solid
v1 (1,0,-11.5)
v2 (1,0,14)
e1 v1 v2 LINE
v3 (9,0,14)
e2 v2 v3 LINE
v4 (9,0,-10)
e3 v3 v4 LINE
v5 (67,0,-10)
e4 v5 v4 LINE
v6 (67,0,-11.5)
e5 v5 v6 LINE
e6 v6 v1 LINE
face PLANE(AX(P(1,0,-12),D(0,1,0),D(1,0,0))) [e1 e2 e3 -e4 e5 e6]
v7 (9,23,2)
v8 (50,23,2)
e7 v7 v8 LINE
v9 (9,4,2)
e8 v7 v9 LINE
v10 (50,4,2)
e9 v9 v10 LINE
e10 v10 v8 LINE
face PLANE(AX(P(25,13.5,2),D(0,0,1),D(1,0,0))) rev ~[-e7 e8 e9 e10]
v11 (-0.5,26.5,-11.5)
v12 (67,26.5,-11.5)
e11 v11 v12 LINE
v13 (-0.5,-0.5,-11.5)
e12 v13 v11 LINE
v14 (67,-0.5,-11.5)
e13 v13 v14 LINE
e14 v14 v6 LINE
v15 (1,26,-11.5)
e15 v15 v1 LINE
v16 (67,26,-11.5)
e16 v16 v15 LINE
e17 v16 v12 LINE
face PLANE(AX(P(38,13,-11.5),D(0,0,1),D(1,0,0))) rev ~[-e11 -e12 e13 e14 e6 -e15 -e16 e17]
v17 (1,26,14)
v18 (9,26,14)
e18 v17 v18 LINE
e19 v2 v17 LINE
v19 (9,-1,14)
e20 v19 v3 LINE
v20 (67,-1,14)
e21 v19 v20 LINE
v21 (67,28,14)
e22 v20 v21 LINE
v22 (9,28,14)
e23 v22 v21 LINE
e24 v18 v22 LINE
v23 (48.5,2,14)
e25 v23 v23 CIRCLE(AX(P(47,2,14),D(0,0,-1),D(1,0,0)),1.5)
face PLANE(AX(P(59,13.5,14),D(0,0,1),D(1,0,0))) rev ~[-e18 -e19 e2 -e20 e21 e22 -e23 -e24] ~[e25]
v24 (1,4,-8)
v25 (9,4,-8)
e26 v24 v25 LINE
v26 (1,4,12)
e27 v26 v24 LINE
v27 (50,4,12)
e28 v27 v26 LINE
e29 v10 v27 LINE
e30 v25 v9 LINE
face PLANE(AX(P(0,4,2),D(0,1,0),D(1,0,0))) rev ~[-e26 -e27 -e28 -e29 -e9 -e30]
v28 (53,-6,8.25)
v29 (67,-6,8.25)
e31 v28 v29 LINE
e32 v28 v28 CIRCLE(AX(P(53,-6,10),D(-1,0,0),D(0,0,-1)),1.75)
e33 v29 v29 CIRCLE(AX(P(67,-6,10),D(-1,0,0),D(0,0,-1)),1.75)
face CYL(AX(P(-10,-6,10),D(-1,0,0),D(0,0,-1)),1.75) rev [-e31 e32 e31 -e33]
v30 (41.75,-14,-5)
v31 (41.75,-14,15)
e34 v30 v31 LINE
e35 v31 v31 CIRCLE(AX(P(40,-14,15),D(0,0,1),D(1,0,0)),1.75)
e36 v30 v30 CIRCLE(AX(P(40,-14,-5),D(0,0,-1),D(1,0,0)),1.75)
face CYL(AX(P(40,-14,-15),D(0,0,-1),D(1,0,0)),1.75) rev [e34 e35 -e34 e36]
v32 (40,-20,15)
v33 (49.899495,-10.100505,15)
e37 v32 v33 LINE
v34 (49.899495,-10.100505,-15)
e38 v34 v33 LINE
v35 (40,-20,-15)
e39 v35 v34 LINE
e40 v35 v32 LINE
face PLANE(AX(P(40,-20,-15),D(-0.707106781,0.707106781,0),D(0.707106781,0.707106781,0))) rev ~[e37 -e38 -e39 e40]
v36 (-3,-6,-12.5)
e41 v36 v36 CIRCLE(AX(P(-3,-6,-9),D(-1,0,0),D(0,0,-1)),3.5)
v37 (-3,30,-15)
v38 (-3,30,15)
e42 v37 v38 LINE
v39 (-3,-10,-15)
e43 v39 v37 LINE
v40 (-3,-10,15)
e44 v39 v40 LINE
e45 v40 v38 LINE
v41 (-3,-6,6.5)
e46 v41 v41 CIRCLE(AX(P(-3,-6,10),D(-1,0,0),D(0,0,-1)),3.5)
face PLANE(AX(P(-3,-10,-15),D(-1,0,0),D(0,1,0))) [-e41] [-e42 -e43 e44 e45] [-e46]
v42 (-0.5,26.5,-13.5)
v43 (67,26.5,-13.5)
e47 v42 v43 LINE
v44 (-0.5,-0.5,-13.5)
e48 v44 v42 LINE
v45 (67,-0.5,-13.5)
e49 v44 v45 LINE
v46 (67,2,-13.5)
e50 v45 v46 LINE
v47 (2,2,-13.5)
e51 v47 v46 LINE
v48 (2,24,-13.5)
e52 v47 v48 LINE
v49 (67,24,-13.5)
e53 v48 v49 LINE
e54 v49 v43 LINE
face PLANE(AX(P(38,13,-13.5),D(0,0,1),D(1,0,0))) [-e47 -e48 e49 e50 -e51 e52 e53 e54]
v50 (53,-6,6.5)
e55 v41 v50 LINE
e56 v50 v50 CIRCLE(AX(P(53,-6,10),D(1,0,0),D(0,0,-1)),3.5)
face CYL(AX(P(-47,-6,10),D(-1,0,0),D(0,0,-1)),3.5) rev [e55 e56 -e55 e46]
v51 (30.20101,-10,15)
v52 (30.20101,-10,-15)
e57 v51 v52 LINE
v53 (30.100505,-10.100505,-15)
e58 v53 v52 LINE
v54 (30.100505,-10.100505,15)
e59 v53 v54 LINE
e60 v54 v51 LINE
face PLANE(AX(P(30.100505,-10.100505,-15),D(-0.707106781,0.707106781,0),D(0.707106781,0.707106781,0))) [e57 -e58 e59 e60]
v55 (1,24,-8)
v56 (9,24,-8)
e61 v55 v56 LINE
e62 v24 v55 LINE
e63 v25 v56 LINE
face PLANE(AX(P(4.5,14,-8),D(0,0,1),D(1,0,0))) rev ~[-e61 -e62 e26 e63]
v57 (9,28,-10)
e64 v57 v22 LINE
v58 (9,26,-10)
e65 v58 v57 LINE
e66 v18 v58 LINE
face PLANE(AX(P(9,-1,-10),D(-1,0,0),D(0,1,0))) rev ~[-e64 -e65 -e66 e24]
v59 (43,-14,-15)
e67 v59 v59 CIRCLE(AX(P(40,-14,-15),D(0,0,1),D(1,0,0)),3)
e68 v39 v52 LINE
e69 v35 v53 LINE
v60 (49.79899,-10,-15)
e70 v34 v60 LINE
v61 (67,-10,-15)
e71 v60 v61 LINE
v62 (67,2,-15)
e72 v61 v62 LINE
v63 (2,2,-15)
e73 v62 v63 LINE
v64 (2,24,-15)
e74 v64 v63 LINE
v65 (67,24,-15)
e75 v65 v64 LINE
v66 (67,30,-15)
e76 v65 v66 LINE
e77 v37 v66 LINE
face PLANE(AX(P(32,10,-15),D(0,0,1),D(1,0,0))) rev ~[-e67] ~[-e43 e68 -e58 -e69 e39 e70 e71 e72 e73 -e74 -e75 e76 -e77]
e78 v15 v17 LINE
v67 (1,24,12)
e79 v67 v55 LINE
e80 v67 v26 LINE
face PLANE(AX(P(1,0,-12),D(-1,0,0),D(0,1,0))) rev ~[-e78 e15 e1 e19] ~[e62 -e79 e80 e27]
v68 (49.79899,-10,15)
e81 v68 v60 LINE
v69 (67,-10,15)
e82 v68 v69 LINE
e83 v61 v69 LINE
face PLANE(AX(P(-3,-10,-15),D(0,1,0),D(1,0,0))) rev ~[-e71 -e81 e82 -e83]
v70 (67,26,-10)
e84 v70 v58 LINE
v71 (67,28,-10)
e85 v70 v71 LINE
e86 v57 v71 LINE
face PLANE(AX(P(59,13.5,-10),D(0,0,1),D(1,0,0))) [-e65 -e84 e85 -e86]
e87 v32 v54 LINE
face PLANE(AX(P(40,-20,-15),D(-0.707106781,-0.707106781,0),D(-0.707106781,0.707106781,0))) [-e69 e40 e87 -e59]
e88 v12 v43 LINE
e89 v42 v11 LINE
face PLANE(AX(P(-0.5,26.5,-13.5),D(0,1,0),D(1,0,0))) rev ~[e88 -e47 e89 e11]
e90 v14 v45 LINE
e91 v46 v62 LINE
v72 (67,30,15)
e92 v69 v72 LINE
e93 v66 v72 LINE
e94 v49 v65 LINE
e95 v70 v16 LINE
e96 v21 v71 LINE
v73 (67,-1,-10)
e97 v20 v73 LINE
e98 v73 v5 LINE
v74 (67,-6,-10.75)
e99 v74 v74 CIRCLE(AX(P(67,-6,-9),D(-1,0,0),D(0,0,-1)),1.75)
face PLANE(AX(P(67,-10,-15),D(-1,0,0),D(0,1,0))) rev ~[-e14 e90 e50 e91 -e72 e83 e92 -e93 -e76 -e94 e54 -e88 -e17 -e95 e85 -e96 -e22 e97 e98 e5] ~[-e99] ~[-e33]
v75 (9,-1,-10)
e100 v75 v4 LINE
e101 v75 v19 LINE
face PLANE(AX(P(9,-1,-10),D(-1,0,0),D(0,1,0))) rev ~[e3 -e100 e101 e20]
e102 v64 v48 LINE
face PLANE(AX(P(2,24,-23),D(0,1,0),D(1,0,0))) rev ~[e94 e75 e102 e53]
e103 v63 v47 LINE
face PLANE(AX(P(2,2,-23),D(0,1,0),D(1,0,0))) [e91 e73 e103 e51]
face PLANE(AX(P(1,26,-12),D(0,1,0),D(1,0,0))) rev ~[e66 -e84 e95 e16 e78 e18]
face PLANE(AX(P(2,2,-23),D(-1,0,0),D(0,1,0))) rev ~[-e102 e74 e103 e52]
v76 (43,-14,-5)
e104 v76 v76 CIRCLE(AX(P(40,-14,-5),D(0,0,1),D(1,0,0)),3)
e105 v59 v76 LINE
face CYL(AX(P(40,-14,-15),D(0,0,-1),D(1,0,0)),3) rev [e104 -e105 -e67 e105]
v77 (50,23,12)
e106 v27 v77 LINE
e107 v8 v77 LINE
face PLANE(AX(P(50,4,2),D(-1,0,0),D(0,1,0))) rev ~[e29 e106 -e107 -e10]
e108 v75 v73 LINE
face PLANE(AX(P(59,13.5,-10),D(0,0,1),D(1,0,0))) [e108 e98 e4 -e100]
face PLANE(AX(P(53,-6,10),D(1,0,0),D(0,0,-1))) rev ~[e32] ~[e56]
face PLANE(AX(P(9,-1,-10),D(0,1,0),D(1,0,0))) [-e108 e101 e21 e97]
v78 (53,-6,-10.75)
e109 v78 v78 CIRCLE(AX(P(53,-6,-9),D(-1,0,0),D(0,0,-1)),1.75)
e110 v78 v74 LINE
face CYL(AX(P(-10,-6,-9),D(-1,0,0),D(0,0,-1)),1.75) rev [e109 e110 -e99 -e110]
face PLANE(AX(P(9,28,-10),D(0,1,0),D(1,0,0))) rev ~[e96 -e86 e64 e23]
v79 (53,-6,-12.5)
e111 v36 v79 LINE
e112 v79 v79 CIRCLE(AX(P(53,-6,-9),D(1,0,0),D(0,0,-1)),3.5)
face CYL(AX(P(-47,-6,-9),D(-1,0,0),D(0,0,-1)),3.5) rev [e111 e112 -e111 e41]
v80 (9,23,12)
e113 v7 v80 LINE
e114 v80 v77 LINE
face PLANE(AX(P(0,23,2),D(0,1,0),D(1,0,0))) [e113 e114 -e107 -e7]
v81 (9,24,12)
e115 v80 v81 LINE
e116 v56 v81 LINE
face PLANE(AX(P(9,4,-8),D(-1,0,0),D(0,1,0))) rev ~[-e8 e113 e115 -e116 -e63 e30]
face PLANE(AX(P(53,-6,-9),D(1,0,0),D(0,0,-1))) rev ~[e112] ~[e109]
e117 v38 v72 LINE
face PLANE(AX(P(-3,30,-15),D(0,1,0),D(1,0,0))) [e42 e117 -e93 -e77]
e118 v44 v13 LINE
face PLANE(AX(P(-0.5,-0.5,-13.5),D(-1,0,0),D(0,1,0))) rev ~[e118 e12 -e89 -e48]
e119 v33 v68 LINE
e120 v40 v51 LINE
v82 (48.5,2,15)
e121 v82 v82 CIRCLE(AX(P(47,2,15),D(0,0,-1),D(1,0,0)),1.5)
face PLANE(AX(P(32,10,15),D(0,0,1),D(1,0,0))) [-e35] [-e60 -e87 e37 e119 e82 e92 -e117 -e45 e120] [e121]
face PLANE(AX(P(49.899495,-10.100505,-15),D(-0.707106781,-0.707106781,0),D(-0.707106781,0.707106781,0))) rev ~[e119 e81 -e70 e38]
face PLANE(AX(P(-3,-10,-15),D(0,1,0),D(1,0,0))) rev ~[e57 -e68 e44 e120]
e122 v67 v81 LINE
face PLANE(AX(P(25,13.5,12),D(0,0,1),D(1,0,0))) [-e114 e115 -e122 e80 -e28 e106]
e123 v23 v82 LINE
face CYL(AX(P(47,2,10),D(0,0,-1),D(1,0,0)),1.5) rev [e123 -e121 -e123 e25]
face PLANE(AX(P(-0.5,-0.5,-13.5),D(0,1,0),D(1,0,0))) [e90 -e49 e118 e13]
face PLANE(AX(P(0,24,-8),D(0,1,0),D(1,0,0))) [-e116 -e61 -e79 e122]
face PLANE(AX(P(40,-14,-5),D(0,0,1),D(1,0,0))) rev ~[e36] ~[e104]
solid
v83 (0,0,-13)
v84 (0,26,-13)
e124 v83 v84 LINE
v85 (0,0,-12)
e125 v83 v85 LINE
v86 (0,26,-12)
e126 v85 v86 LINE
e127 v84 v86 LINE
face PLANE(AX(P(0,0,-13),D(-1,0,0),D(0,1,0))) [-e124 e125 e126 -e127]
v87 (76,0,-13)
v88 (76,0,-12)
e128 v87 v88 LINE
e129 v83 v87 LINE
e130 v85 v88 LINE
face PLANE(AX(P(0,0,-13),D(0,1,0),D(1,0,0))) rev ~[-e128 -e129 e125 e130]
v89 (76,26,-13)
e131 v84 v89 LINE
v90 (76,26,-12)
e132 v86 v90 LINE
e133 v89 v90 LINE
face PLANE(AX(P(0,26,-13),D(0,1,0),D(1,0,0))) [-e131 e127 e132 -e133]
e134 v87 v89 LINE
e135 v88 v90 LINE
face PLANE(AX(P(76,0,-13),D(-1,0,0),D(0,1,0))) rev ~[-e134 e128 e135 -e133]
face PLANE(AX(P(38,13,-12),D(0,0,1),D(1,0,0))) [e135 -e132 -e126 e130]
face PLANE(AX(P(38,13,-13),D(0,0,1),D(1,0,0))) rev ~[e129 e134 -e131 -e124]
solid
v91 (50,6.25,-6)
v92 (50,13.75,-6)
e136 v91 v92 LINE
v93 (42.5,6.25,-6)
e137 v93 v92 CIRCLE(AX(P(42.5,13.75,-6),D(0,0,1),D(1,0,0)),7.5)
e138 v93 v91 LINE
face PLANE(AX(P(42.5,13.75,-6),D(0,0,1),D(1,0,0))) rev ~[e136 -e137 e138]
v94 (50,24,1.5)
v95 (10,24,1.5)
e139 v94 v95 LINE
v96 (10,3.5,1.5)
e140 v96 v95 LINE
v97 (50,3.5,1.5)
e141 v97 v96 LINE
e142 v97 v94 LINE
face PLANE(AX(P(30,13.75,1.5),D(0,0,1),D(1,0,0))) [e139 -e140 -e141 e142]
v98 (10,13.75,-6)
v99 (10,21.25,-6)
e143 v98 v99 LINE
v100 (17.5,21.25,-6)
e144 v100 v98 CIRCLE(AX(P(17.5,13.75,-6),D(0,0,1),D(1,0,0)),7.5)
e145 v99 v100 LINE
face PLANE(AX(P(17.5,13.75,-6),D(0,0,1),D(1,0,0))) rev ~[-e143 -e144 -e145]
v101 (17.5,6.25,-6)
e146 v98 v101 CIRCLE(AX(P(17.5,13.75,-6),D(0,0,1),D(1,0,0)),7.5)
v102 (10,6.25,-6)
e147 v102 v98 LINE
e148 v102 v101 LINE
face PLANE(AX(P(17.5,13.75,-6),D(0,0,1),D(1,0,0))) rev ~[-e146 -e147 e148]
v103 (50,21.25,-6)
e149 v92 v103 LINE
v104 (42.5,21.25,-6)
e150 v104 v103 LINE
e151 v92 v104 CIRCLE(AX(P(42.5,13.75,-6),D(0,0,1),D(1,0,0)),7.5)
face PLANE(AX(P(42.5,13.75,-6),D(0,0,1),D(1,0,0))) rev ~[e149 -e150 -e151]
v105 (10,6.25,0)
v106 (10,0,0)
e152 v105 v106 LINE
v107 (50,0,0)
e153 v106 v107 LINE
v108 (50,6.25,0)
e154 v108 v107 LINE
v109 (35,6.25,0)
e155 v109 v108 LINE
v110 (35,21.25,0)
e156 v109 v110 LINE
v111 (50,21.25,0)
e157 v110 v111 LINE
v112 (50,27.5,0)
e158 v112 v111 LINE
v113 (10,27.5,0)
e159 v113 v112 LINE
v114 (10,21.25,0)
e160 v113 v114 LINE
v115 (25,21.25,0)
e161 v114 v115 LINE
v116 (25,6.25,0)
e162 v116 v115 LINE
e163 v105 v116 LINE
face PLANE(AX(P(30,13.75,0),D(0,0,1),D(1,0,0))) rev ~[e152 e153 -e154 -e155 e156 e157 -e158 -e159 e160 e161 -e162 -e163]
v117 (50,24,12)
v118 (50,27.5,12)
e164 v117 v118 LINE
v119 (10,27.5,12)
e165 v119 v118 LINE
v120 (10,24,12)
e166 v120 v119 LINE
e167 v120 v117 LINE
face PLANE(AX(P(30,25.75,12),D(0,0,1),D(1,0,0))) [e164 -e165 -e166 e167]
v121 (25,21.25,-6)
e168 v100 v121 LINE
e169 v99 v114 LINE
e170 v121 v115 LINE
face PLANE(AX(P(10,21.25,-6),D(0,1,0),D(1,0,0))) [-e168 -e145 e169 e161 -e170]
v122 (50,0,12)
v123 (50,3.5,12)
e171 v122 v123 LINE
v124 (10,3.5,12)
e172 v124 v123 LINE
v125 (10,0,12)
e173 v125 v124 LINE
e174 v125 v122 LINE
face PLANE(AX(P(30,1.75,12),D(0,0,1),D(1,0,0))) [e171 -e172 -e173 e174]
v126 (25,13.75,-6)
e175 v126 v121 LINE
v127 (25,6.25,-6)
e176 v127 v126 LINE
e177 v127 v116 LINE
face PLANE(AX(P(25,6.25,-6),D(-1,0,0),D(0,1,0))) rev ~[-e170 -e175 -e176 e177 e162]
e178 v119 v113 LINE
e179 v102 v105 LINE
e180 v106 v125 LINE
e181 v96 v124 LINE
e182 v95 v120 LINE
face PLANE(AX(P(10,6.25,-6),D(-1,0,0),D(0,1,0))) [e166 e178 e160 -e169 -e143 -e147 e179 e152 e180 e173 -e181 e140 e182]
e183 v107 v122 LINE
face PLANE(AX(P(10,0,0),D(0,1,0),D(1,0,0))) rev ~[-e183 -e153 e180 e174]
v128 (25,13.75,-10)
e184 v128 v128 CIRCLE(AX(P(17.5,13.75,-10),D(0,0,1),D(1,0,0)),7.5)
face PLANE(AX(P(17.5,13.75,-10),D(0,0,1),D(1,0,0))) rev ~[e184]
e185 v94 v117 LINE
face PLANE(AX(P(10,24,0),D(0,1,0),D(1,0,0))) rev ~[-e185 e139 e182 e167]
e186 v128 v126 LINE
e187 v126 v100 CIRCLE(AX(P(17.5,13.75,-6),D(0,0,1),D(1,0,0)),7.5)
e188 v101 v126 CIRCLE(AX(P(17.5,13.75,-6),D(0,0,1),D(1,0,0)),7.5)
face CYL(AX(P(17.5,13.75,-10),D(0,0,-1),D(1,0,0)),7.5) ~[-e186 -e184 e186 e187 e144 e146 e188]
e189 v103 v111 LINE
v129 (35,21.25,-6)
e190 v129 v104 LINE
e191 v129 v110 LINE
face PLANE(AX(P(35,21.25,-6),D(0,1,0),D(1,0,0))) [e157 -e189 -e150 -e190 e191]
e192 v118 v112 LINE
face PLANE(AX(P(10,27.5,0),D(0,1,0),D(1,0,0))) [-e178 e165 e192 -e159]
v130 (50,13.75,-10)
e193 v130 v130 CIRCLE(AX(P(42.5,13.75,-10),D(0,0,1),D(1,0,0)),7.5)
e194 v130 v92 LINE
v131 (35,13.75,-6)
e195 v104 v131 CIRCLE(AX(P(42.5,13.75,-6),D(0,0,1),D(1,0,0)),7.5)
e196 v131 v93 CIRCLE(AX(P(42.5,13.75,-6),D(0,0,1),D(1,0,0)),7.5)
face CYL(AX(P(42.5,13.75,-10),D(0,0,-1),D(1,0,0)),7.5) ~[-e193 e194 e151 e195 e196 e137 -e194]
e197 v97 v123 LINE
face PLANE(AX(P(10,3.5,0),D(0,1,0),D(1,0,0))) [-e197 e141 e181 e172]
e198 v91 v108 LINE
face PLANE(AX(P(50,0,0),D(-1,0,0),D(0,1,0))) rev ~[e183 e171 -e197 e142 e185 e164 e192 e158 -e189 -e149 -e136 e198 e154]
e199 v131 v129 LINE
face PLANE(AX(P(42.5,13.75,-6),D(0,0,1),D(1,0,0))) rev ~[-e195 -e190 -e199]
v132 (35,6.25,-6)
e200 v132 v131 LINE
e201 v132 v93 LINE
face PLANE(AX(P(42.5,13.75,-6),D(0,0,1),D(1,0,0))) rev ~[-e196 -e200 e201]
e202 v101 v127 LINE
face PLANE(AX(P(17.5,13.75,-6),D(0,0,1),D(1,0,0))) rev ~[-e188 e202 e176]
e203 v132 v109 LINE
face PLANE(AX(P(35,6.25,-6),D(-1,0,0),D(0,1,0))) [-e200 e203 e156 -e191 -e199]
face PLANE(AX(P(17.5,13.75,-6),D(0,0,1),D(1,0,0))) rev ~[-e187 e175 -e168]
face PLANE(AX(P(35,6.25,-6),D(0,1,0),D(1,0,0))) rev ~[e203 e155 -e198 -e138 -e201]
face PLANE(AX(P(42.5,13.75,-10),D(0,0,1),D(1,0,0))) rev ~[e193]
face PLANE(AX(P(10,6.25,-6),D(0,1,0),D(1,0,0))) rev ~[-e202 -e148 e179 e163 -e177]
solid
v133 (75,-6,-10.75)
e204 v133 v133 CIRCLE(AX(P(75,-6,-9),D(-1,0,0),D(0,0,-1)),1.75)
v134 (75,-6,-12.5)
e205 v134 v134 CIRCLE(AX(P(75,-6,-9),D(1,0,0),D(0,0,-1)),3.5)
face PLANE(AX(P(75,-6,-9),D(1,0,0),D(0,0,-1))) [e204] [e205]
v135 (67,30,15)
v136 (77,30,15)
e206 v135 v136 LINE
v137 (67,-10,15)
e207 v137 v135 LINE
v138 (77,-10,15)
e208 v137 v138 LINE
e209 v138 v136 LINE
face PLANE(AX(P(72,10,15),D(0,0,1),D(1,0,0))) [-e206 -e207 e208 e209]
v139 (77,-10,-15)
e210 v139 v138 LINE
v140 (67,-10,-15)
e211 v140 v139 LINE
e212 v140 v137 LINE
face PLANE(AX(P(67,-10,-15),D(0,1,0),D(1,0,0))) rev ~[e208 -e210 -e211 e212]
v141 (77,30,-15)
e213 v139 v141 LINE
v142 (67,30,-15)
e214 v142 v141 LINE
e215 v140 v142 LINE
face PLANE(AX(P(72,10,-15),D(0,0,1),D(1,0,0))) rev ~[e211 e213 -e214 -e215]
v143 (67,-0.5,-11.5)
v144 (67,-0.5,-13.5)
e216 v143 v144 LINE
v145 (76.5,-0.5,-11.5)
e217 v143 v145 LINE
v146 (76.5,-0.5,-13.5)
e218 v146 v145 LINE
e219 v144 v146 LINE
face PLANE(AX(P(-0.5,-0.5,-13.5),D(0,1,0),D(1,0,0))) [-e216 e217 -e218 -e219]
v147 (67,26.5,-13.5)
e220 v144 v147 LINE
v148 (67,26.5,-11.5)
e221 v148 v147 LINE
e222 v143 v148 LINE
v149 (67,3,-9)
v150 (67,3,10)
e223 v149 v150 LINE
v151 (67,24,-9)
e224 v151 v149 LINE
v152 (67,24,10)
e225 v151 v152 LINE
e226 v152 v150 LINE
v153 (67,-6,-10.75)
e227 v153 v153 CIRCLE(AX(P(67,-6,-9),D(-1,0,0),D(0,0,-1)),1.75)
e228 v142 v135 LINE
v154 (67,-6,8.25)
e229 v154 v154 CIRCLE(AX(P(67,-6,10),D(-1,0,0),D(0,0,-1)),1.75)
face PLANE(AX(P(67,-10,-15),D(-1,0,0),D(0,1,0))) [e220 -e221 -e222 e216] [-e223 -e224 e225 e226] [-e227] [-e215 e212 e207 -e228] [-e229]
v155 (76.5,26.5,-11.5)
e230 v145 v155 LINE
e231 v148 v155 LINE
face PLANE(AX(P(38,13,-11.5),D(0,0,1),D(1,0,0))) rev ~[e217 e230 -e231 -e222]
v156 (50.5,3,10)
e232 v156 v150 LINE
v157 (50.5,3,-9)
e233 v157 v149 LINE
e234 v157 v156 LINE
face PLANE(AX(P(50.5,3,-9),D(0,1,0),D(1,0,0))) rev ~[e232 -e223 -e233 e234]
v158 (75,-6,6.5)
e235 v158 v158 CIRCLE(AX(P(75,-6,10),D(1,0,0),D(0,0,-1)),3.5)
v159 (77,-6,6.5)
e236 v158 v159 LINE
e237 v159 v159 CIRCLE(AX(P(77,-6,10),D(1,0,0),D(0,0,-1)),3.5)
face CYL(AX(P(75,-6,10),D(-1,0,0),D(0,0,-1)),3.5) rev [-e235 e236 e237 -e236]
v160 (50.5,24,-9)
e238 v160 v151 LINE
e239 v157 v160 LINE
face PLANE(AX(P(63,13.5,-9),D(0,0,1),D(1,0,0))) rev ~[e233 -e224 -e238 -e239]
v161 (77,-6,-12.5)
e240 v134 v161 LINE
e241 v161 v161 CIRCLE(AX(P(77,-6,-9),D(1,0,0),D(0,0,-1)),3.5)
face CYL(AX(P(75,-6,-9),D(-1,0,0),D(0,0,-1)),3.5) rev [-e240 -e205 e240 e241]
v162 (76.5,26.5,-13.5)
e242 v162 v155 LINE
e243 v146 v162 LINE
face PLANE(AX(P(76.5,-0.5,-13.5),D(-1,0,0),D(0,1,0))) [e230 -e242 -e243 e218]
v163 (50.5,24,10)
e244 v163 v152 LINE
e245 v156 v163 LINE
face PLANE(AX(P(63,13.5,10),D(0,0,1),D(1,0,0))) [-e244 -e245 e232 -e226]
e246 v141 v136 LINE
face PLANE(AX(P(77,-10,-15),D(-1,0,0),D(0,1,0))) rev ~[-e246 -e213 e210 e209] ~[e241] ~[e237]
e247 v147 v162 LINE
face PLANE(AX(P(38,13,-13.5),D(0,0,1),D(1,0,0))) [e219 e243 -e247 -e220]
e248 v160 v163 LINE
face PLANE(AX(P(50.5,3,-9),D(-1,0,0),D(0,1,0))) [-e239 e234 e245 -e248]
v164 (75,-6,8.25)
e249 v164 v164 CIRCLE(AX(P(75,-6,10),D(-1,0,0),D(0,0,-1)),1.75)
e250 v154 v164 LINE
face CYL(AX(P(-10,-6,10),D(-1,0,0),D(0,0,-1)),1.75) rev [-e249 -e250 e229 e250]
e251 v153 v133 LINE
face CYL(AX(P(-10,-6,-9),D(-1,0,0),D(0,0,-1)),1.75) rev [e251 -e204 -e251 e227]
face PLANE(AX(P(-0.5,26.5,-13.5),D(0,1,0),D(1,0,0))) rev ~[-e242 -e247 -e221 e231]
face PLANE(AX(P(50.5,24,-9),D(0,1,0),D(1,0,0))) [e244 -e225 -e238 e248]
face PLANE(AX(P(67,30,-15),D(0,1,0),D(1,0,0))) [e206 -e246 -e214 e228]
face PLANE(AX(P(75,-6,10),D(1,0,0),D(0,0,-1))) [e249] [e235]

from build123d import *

# Parameters (mm, degrees)
BOX_W                  = 76
BOX_H                  = 26
BOX_DEPTH              = 1
BOX001_W               = 40
BOX001_H               = 27.5
BOX001_DEPTH           = 1.5
BOX002_W               = 40
BOX002_H               = 3.5
BOX002_DEPTH           = 12
BOX003_W               = 40
BOX003_H               = 3.5
BOX003_DEPTH           = 12
BOX004_W               = 15
BOX004_H               = 15
BOX004_DEPTH           = 6
CYLINDER_R             = 7.5
CYLINDER_DEPTH         = 4
CYLINDER007_R          = 3.5
CYLINDER007_DEPTH      = 2
CYLINDER004_R          = 1.75
CYLINDER004_DEPTH      = 100
CYLINDER003_R          = 1.75
CYLINDER003_DEPTH      = 100
CYLINDER008_R          = 3.5
CYLINDER008_DEPTH      = 2
BOX013_W               = 77
BOX013_H               = 27
BOX013_DEPTH           = 2
BOX012_W               = 10
BOX012_H               = 40
BOX012_DEPTH           = 30
BOX014_W               = 25
BOX014_H               = 21
BOX014_DEPTH           = 19
BOX016_W               = 20
BOX016_H               = 20
BOX016_DEPTH           = 30
CYLINDER010_R          = 1.75
CYLINDER010_DEPTH      = 30
CYLINDER011_R          = 3
CYLINDER011_DEPTH      = 10
BOX015_W               = 14
BOX015_H               = 14
BOX015_DEPTH           = 30
BOX015_PLACEMENT_ANGLE = 45
CYLINDER009_R          = 1.5
CYLINDER009_DEPTH      = 10
CYLINDER006_R          = 3.5
CYLINDER006_DEPTH      = 100
CYLINDER005_R          = 3.5
CYLINDER005_DEPTH      = 100
CYLINDER002_R          = 1.75
CYLINDER002_DEPTH      = 100
CYLINDER001_R          = 1.75
CYLINDER001_DEPTH      = 100
BOX010_W               = 50
BOX010_H               = 19
BOX010_DEPTH           = 10
BOX011_W               = 9
BOX011_H               = 20
BOX011_DEPTH           = 20
BOX009_W               = 100
BOX009_H               = 26
BOX009_DEPTH           = 26
BOX008_W               = 100
BOX008_H               = 29
BOX008_DEPTH           = 24
BOX007_W               = 77
BOX007_H               = 27
BOX007_DEPTH           = 2
BOX006_W               = 72
BOX006_H               = 22
BOX006_DEPTH           = 10
BOX005_W               = 70
BOX005_H               = 40
BOX005_DEPTH           = 30


with BuildPart() as microscopeslide:
    # Box → Box (new body)
    with BuildSketch(Plane.XY.offset(-13)):
        with Locations((38, 13)):
            Rectangle(BOX_W, BOX_H)
    extrude(amount=BOX_DEPTH)


with BuildPart() as cube001:
    # Box001 → Box001 (new body)
    with BuildSketch(Plane.XY):
        with Locations((20, 13.75)):
            Rectangle(BOX001_W, BOX001_H)
    extrude(amount=BOX001_DEPTH)


with BuildPart() as cube:
    # Box002 → Box002 (new body)
    with BuildSketch(Plane.XY):
        with Locations((20, 1.75)):
            Rectangle(BOX002_W, BOX002_H)
    extrude(amount=BOX002_DEPTH)


with BuildPart() as cube002:
    # Box003 → Box003 (new body)
    with BuildSketch(Plane(origin=(0, 24, 0), x_dir=(1, 0, 0), z_dir=(0, 0, 1))):
        with Locations((20, 1.75)):
            Rectangle(BOX003_W, BOX003_H)
    extrude(amount=BOX003_DEPTH)


with BuildPart() as cube003:
    # Box004 → Box004 (new body)
    with BuildSketch(Plane(origin=(0, 6.25, -6), x_dir=(1, 0, 0), z_dir=(0, 0, 1))):
        with Locations((7.5, 7.5)):
            Rectangle(BOX004_W, BOX004_H)
    extrude(amount=BOX004_DEPTH)


with BuildPart() as cylinder:
    # Cylinder → Cylinder (new body)
    with BuildSketch(Plane(origin=(7.5, 13.75, -10), x_dir=(1, 0, 0), z_dir=(0, 0, 1))):
        Circle(CYLINDER_R)
    extrude(amount=CYLINDER_DEPTH)


with BuildPart() as fusion001:
    # Fusion001 base: copy of Cube003
    add(cube003.part)

    # Fusion001: union Cylinder
    add(cylinder.part)


with BuildPart() as fusion001_1:
    # Fusion001 placement: moved
    add(fusion001.part.moved(Location((25, 0, 0))))


with BuildPart() as esp32camtemplate:
    # Fusion base: copy of Cylinder
    add(cylinder.part)

    # Fusion: union Cube001, Cube, Cube002, Cube003, Fusion001
    add(cube001.part)
    add(cube.part)
    add(cube002.part)
    add(cube003.part)
    add(fusion001_1.part)


with BuildPart() as esp32camtemplate_1:
    # Fusion placement: moved
    add(esp32camtemplate.part.moved(Location((10, 0, 0))))


with BuildPart() as cylinder007:
    # Cylinder007 → Cylinder007 (new body)
    with BuildSketch(Plane(origin=(75, -6, 10), x_dir=(0, 0, -1), z_dir=(1, 0, 0))):
        Circle(CYLINDER007_R)
    extrude(amount=CYLINDER007_DEPTH)


with BuildPart() as cylinder004:
    # Cylinder004 → Cylinder004 (new body)
    with BuildSketch(Plane(origin=(-10, -6, 10), x_dir=(0, 0, -1), z_dir=(1, 0, 0))):
        Circle(CYLINDER004_R)
    extrude(amount=CYLINDER004_DEPTH)


with BuildPart() as cylinder003:
    # Cylinder003 → Cylinder003 (new body)
    with BuildSketch(Plane(origin=(-10, -6, -9), x_dir=(0, 0, -1), z_dir=(1, 0, 0))):
        Circle(CYLINDER003_R)
    extrude(amount=CYLINDER003_DEPTH)


with BuildPart() as fusion006:
    # Cylinder008 → Cylinder008 (new body)
    with BuildSketch(Plane(origin=(75, -6, -9), x_dir=(0, 0, -1), z_dir=(1, 0, 0))):
        Circle(CYLINDER008_R)
    extrude(amount=CYLINDER008_DEPTH)

    # Fusion006: union Cylinder007, Cylinder004, Cylinder003
    add(cylinder007.part)
    add(cylinder004.part)
    add(cylinder003.part)


with BuildPart() as microscopeslidemount001:
    # Box013 → Box013 (new body)
    with BuildSketch(Plane(origin=(-0.5, -0.5, -13.5), x_dir=(1, 0, 0), z_dir=(0, 0, 1))):
        with Locations((38.5, 13.5)):
            Rectangle(BOX013_W, BOX013_H)
    extrude(amount=BOX013_DEPTH)


with BuildPart() as cut004:
    # Box012 → Box012 (new body)
    with BuildSketch(Plane(origin=(67, -10, -15), x_dir=(1, 0, 0), z_dir=(0, 0, 1))):
        with Locations((5, 20)):
            Rectangle(BOX012_W, BOX012_H)
    extrude(amount=BOX012_DEPTH)

    # Cut004: cut MicroscopeSlideMount001
    add(microscopeslidemount001.part, mode=Mode.SUBTRACT)


with BuildPart() as housingb:
    # Box014 → Box014 (new body)
    with BuildSketch(Plane(origin=(50.5, 3, -9), x_dir=(1, 0, 0), z_dir=(0, 0, 1))):
        with Locations((12.5, 10.5)):
            Rectangle(BOX014_W, BOX014_H)
    extrude(amount=BOX014_DEPTH)

    # Fusion003: union Cut004
    add(cut004.part)

    # Cut007: cut Fusion006
    add(fusion006.part, mode=Mode.SUBTRACT)


with BuildPart() as cube012:
    # Box016 → Box016 (new body)
    with BuildSketch(Plane(origin=(-10, 7, 0), x_dir=(1, 0, 0), z_dir=(0, 0, 1))):
        with Locations((10, 10)):
            Rectangle(BOX016_W, BOX016_H)
    extrude(amount=BOX016_DEPTH)


with BuildPart() as cylinder010:
    # Cylinder010 → Cylinder010 (new body)
    with BuildSketch(Plane(origin=(0, 3, 0), x_dir=(1, 0, 0), z_dir=(0, 0, 1))):
        Circle(CYLINDER010_R)
    extrude(amount=CYLINDER010_DEPTH)


with BuildPart() as fusion007:
    # Cylinder011 → Cylinder011 (new body)
    with BuildSketch(Plane(origin=(0, 3, 0), x_dir=(1, 0, 0), z_dir=(0, 0, 1))):
        Circle(CYLINDER011_R)
    extrude(amount=CYLINDER011_DEPTH)

    # Fusion007: union Cylinder010
    add(cylinder010.part)


with BuildPart() as cut010:
    # Box015 → Box015 (new body)
    with BuildSketch(Plane.XY):
        with Locations((7, 7)):
            Rectangle(BOX015_W, BOX015_H)
    extrude(amount=BOX015_DEPTH)


with BuildPart() as cut010_1:
    # Box015 placement: moved
    add(cut010.part.moved(Location((0, -3, 0))).rotate(Axis((0, -3, 0), (0, 0, 1)), BOX015_PLACEMENT_ANGLE))

    # Cut009: cut Fusion007
    add(fusion007.part, mode=Mode.SUBTRACT)

    # Cut010: cut Cube012
    add(cube012.part, mode=Mode.SUBTRACT)


with BuildPart() as cut010_2:
    # Cut010 placement: moved
    add(cut010_1.part.moved(Location((40, -17, -15))))


with BuildPart() as cylinder009:
    # Cylinder009 → Cylinder009 (new body)
    with BuildSketch(Plane(origin=(47, 2, 10), x_dir=(1, 0, 0), z_dir=(0, 0, 1))):
        Circle(CYLINDER009_R)
    extrude(amount=CYLINDER009_DEPTH)


with BuildPart() as cylinder006:
    # Cylinder006 → Cylinder006 (new body)
    with BuildSketch(Plane(origin=(-47, -6, -9), x_dir=(0, 0, -1), z_dir=(1, 0, 0))):
        Circle(CYLINDER006_R)
    extrude(amount=CYLINDER006_DEPTH)


with BuildPart() as fusion005:
    # Cylinder005 → Cylinder005 (new body)
    with BuildSketch(Plane(origin=(-47, -6, 10), x_dir=(0, 0, -1), z_dir=(1, 0, 0))):
        Circle(CYLINDER005_R)
    extrude(amount=CYLINDER005_DEPTH)

    # Fusion005: union Cylinder006
    add(cylinder006.part)


with BuildPart() as cylinder002:
    # Cylinder002 → Cylinder002 (new body)
    with BuildSketch(Plane(origin=(-10, -6, 10), x_dir=(0, 0, -1), z_dir=(1, 0, 0))):
        Circle(CYLINDER002_R)
    extrude(amount=CYLINDER002_DEPTH)


with BuildPart() as fusion004:
    # Cylinder001 → Cylinder001 (new body)
    with BuildSketch(Plane(origin=(-10, -6, -9), x_dir=(0, 0, -1), z_dir=(1, 0, 0))):
        Circle(CYLINDER001_R)
    extrude(amount=CYLINDER001_DEPTH)

    # Fusion004: union Cylinder002
    add(cylinder002.part)


with BuildPart() as cube007:
    # Box010 → Box010 (new body)
    with BuildSketch(Plane(origin=(0, 4, 2), x_dir=(1, 0, 0), z_dir=(0, 0, 1))):
        with Locations((25, 9.5)):
            Rectangle(BOX010_W, BOX010_H)
    extrude(amount=BOX010_DEPTH)


with BuildPart() as cube008:
    # Box011 → Box011 (new body)
    with BuildSketch(Plane(origin=(0, 4, -8), x_dir=(1, 0, 0), z_dir=(0, 0, 1))):
        with Locations((4.5, 10)):
            Rectangle(BOX011_W, BOX011_H)
    extrude(amount=BOX011_DEPTH)


with BuildPart() as cube006:
    # Box009 → Box009 (new body)
    with BuildSketch(Plane(origin=(1, 0, -12), x_dir=(1, 0, 0), z_dir=(0, 0, 1))):
        with Locations((50, 13)):
            Rectangle(BOX009_W, BOX009_H)
    extrude(amount=BOX009_DEPTH)


with BuildPart() as cube005:
    # Box008 → Box008 (new body)
    with BuildSketch(Plane(origin=(9, -1, -10), x_dir=(1, 0, 0), z_dir=(0, 0, 1))):
        with Locations((50, 14.5)):
            Rectangle(BOX008_W, BOX008_H)
    extrude(amount=BOX008_DEPTH)


with BuildPart() as microscopeslidemount:
    # Box007 → Box007 (new body)
    with BuildSketch(Plane(origin=(-0.5, -0.5, -13.5), x_dir=(1, 0, 0), z_dir=(0, 0, 1))):
        with Locations((38.5, 13.5)):
            Rectangle(BOX007_W, BOX007_H)
    extrude(amount=BOX007_DEPTH)


with BuildPart() as windowopening:
    # Box006 → Box006 (new body)
    with BuildSketch(Plane(origin=(2, 2, -23), x_dir=(1, 0, 0), z_dir=(0, 0, 1))):
        with Locations((36, 11)):
            Rectangle(BOX006_W, BOX006_H)
    extrude(amount=BOX006_DEPTH)


with BuildPart() as housingawithmount:
    # Box005 → Box005 (new body)
    with BuildSketch(Plane(origin=(-3, -10, -15), x_dir=(1, 0, 0), z_dir=(0, 0, 1))):
        with Locations((35, 20)):
            Rectangle(BOX005_W, BOX005_H)
    extrude(amount=BOX005_DEPTH)

    # Cut: cut WindowOpening
    add(windowopening.part, mode=Mode.SUBTRACT)

    # Cut001: cut MicroscopeSlideMount
    add(microscopeslidemount.part, mode=Mode.SUBTRACT)

    # Cut002: cut Cube005
    add(cube005.part, mode=Mode.SUBTRACT)

    # Cut003: cut Cube006
    add(cube006.part, mode=Mode.SUBTRACT)

    # Fusion002: union Cube007, Cube008
    add(cube007.part)
    add(cube008.part)

    # Cut005: cut Fusion004
    add(fusion004.part, mode=Mode.SUBTRACT)

    # Cut006: cut Fusion005
    add(fusion005.part, mode=Mode.SUBTRACT)

    # Cut008: cut Cylinder009
    add(cylinder009.part, mode=Mode.SUBTRACT)

    # Fusion008: union Cut010
    add(cut010_2.part)


solid = Compound([microscopeslide.part, esp32camtemplate_1.part, housingb.part, housingawithmount.part])
